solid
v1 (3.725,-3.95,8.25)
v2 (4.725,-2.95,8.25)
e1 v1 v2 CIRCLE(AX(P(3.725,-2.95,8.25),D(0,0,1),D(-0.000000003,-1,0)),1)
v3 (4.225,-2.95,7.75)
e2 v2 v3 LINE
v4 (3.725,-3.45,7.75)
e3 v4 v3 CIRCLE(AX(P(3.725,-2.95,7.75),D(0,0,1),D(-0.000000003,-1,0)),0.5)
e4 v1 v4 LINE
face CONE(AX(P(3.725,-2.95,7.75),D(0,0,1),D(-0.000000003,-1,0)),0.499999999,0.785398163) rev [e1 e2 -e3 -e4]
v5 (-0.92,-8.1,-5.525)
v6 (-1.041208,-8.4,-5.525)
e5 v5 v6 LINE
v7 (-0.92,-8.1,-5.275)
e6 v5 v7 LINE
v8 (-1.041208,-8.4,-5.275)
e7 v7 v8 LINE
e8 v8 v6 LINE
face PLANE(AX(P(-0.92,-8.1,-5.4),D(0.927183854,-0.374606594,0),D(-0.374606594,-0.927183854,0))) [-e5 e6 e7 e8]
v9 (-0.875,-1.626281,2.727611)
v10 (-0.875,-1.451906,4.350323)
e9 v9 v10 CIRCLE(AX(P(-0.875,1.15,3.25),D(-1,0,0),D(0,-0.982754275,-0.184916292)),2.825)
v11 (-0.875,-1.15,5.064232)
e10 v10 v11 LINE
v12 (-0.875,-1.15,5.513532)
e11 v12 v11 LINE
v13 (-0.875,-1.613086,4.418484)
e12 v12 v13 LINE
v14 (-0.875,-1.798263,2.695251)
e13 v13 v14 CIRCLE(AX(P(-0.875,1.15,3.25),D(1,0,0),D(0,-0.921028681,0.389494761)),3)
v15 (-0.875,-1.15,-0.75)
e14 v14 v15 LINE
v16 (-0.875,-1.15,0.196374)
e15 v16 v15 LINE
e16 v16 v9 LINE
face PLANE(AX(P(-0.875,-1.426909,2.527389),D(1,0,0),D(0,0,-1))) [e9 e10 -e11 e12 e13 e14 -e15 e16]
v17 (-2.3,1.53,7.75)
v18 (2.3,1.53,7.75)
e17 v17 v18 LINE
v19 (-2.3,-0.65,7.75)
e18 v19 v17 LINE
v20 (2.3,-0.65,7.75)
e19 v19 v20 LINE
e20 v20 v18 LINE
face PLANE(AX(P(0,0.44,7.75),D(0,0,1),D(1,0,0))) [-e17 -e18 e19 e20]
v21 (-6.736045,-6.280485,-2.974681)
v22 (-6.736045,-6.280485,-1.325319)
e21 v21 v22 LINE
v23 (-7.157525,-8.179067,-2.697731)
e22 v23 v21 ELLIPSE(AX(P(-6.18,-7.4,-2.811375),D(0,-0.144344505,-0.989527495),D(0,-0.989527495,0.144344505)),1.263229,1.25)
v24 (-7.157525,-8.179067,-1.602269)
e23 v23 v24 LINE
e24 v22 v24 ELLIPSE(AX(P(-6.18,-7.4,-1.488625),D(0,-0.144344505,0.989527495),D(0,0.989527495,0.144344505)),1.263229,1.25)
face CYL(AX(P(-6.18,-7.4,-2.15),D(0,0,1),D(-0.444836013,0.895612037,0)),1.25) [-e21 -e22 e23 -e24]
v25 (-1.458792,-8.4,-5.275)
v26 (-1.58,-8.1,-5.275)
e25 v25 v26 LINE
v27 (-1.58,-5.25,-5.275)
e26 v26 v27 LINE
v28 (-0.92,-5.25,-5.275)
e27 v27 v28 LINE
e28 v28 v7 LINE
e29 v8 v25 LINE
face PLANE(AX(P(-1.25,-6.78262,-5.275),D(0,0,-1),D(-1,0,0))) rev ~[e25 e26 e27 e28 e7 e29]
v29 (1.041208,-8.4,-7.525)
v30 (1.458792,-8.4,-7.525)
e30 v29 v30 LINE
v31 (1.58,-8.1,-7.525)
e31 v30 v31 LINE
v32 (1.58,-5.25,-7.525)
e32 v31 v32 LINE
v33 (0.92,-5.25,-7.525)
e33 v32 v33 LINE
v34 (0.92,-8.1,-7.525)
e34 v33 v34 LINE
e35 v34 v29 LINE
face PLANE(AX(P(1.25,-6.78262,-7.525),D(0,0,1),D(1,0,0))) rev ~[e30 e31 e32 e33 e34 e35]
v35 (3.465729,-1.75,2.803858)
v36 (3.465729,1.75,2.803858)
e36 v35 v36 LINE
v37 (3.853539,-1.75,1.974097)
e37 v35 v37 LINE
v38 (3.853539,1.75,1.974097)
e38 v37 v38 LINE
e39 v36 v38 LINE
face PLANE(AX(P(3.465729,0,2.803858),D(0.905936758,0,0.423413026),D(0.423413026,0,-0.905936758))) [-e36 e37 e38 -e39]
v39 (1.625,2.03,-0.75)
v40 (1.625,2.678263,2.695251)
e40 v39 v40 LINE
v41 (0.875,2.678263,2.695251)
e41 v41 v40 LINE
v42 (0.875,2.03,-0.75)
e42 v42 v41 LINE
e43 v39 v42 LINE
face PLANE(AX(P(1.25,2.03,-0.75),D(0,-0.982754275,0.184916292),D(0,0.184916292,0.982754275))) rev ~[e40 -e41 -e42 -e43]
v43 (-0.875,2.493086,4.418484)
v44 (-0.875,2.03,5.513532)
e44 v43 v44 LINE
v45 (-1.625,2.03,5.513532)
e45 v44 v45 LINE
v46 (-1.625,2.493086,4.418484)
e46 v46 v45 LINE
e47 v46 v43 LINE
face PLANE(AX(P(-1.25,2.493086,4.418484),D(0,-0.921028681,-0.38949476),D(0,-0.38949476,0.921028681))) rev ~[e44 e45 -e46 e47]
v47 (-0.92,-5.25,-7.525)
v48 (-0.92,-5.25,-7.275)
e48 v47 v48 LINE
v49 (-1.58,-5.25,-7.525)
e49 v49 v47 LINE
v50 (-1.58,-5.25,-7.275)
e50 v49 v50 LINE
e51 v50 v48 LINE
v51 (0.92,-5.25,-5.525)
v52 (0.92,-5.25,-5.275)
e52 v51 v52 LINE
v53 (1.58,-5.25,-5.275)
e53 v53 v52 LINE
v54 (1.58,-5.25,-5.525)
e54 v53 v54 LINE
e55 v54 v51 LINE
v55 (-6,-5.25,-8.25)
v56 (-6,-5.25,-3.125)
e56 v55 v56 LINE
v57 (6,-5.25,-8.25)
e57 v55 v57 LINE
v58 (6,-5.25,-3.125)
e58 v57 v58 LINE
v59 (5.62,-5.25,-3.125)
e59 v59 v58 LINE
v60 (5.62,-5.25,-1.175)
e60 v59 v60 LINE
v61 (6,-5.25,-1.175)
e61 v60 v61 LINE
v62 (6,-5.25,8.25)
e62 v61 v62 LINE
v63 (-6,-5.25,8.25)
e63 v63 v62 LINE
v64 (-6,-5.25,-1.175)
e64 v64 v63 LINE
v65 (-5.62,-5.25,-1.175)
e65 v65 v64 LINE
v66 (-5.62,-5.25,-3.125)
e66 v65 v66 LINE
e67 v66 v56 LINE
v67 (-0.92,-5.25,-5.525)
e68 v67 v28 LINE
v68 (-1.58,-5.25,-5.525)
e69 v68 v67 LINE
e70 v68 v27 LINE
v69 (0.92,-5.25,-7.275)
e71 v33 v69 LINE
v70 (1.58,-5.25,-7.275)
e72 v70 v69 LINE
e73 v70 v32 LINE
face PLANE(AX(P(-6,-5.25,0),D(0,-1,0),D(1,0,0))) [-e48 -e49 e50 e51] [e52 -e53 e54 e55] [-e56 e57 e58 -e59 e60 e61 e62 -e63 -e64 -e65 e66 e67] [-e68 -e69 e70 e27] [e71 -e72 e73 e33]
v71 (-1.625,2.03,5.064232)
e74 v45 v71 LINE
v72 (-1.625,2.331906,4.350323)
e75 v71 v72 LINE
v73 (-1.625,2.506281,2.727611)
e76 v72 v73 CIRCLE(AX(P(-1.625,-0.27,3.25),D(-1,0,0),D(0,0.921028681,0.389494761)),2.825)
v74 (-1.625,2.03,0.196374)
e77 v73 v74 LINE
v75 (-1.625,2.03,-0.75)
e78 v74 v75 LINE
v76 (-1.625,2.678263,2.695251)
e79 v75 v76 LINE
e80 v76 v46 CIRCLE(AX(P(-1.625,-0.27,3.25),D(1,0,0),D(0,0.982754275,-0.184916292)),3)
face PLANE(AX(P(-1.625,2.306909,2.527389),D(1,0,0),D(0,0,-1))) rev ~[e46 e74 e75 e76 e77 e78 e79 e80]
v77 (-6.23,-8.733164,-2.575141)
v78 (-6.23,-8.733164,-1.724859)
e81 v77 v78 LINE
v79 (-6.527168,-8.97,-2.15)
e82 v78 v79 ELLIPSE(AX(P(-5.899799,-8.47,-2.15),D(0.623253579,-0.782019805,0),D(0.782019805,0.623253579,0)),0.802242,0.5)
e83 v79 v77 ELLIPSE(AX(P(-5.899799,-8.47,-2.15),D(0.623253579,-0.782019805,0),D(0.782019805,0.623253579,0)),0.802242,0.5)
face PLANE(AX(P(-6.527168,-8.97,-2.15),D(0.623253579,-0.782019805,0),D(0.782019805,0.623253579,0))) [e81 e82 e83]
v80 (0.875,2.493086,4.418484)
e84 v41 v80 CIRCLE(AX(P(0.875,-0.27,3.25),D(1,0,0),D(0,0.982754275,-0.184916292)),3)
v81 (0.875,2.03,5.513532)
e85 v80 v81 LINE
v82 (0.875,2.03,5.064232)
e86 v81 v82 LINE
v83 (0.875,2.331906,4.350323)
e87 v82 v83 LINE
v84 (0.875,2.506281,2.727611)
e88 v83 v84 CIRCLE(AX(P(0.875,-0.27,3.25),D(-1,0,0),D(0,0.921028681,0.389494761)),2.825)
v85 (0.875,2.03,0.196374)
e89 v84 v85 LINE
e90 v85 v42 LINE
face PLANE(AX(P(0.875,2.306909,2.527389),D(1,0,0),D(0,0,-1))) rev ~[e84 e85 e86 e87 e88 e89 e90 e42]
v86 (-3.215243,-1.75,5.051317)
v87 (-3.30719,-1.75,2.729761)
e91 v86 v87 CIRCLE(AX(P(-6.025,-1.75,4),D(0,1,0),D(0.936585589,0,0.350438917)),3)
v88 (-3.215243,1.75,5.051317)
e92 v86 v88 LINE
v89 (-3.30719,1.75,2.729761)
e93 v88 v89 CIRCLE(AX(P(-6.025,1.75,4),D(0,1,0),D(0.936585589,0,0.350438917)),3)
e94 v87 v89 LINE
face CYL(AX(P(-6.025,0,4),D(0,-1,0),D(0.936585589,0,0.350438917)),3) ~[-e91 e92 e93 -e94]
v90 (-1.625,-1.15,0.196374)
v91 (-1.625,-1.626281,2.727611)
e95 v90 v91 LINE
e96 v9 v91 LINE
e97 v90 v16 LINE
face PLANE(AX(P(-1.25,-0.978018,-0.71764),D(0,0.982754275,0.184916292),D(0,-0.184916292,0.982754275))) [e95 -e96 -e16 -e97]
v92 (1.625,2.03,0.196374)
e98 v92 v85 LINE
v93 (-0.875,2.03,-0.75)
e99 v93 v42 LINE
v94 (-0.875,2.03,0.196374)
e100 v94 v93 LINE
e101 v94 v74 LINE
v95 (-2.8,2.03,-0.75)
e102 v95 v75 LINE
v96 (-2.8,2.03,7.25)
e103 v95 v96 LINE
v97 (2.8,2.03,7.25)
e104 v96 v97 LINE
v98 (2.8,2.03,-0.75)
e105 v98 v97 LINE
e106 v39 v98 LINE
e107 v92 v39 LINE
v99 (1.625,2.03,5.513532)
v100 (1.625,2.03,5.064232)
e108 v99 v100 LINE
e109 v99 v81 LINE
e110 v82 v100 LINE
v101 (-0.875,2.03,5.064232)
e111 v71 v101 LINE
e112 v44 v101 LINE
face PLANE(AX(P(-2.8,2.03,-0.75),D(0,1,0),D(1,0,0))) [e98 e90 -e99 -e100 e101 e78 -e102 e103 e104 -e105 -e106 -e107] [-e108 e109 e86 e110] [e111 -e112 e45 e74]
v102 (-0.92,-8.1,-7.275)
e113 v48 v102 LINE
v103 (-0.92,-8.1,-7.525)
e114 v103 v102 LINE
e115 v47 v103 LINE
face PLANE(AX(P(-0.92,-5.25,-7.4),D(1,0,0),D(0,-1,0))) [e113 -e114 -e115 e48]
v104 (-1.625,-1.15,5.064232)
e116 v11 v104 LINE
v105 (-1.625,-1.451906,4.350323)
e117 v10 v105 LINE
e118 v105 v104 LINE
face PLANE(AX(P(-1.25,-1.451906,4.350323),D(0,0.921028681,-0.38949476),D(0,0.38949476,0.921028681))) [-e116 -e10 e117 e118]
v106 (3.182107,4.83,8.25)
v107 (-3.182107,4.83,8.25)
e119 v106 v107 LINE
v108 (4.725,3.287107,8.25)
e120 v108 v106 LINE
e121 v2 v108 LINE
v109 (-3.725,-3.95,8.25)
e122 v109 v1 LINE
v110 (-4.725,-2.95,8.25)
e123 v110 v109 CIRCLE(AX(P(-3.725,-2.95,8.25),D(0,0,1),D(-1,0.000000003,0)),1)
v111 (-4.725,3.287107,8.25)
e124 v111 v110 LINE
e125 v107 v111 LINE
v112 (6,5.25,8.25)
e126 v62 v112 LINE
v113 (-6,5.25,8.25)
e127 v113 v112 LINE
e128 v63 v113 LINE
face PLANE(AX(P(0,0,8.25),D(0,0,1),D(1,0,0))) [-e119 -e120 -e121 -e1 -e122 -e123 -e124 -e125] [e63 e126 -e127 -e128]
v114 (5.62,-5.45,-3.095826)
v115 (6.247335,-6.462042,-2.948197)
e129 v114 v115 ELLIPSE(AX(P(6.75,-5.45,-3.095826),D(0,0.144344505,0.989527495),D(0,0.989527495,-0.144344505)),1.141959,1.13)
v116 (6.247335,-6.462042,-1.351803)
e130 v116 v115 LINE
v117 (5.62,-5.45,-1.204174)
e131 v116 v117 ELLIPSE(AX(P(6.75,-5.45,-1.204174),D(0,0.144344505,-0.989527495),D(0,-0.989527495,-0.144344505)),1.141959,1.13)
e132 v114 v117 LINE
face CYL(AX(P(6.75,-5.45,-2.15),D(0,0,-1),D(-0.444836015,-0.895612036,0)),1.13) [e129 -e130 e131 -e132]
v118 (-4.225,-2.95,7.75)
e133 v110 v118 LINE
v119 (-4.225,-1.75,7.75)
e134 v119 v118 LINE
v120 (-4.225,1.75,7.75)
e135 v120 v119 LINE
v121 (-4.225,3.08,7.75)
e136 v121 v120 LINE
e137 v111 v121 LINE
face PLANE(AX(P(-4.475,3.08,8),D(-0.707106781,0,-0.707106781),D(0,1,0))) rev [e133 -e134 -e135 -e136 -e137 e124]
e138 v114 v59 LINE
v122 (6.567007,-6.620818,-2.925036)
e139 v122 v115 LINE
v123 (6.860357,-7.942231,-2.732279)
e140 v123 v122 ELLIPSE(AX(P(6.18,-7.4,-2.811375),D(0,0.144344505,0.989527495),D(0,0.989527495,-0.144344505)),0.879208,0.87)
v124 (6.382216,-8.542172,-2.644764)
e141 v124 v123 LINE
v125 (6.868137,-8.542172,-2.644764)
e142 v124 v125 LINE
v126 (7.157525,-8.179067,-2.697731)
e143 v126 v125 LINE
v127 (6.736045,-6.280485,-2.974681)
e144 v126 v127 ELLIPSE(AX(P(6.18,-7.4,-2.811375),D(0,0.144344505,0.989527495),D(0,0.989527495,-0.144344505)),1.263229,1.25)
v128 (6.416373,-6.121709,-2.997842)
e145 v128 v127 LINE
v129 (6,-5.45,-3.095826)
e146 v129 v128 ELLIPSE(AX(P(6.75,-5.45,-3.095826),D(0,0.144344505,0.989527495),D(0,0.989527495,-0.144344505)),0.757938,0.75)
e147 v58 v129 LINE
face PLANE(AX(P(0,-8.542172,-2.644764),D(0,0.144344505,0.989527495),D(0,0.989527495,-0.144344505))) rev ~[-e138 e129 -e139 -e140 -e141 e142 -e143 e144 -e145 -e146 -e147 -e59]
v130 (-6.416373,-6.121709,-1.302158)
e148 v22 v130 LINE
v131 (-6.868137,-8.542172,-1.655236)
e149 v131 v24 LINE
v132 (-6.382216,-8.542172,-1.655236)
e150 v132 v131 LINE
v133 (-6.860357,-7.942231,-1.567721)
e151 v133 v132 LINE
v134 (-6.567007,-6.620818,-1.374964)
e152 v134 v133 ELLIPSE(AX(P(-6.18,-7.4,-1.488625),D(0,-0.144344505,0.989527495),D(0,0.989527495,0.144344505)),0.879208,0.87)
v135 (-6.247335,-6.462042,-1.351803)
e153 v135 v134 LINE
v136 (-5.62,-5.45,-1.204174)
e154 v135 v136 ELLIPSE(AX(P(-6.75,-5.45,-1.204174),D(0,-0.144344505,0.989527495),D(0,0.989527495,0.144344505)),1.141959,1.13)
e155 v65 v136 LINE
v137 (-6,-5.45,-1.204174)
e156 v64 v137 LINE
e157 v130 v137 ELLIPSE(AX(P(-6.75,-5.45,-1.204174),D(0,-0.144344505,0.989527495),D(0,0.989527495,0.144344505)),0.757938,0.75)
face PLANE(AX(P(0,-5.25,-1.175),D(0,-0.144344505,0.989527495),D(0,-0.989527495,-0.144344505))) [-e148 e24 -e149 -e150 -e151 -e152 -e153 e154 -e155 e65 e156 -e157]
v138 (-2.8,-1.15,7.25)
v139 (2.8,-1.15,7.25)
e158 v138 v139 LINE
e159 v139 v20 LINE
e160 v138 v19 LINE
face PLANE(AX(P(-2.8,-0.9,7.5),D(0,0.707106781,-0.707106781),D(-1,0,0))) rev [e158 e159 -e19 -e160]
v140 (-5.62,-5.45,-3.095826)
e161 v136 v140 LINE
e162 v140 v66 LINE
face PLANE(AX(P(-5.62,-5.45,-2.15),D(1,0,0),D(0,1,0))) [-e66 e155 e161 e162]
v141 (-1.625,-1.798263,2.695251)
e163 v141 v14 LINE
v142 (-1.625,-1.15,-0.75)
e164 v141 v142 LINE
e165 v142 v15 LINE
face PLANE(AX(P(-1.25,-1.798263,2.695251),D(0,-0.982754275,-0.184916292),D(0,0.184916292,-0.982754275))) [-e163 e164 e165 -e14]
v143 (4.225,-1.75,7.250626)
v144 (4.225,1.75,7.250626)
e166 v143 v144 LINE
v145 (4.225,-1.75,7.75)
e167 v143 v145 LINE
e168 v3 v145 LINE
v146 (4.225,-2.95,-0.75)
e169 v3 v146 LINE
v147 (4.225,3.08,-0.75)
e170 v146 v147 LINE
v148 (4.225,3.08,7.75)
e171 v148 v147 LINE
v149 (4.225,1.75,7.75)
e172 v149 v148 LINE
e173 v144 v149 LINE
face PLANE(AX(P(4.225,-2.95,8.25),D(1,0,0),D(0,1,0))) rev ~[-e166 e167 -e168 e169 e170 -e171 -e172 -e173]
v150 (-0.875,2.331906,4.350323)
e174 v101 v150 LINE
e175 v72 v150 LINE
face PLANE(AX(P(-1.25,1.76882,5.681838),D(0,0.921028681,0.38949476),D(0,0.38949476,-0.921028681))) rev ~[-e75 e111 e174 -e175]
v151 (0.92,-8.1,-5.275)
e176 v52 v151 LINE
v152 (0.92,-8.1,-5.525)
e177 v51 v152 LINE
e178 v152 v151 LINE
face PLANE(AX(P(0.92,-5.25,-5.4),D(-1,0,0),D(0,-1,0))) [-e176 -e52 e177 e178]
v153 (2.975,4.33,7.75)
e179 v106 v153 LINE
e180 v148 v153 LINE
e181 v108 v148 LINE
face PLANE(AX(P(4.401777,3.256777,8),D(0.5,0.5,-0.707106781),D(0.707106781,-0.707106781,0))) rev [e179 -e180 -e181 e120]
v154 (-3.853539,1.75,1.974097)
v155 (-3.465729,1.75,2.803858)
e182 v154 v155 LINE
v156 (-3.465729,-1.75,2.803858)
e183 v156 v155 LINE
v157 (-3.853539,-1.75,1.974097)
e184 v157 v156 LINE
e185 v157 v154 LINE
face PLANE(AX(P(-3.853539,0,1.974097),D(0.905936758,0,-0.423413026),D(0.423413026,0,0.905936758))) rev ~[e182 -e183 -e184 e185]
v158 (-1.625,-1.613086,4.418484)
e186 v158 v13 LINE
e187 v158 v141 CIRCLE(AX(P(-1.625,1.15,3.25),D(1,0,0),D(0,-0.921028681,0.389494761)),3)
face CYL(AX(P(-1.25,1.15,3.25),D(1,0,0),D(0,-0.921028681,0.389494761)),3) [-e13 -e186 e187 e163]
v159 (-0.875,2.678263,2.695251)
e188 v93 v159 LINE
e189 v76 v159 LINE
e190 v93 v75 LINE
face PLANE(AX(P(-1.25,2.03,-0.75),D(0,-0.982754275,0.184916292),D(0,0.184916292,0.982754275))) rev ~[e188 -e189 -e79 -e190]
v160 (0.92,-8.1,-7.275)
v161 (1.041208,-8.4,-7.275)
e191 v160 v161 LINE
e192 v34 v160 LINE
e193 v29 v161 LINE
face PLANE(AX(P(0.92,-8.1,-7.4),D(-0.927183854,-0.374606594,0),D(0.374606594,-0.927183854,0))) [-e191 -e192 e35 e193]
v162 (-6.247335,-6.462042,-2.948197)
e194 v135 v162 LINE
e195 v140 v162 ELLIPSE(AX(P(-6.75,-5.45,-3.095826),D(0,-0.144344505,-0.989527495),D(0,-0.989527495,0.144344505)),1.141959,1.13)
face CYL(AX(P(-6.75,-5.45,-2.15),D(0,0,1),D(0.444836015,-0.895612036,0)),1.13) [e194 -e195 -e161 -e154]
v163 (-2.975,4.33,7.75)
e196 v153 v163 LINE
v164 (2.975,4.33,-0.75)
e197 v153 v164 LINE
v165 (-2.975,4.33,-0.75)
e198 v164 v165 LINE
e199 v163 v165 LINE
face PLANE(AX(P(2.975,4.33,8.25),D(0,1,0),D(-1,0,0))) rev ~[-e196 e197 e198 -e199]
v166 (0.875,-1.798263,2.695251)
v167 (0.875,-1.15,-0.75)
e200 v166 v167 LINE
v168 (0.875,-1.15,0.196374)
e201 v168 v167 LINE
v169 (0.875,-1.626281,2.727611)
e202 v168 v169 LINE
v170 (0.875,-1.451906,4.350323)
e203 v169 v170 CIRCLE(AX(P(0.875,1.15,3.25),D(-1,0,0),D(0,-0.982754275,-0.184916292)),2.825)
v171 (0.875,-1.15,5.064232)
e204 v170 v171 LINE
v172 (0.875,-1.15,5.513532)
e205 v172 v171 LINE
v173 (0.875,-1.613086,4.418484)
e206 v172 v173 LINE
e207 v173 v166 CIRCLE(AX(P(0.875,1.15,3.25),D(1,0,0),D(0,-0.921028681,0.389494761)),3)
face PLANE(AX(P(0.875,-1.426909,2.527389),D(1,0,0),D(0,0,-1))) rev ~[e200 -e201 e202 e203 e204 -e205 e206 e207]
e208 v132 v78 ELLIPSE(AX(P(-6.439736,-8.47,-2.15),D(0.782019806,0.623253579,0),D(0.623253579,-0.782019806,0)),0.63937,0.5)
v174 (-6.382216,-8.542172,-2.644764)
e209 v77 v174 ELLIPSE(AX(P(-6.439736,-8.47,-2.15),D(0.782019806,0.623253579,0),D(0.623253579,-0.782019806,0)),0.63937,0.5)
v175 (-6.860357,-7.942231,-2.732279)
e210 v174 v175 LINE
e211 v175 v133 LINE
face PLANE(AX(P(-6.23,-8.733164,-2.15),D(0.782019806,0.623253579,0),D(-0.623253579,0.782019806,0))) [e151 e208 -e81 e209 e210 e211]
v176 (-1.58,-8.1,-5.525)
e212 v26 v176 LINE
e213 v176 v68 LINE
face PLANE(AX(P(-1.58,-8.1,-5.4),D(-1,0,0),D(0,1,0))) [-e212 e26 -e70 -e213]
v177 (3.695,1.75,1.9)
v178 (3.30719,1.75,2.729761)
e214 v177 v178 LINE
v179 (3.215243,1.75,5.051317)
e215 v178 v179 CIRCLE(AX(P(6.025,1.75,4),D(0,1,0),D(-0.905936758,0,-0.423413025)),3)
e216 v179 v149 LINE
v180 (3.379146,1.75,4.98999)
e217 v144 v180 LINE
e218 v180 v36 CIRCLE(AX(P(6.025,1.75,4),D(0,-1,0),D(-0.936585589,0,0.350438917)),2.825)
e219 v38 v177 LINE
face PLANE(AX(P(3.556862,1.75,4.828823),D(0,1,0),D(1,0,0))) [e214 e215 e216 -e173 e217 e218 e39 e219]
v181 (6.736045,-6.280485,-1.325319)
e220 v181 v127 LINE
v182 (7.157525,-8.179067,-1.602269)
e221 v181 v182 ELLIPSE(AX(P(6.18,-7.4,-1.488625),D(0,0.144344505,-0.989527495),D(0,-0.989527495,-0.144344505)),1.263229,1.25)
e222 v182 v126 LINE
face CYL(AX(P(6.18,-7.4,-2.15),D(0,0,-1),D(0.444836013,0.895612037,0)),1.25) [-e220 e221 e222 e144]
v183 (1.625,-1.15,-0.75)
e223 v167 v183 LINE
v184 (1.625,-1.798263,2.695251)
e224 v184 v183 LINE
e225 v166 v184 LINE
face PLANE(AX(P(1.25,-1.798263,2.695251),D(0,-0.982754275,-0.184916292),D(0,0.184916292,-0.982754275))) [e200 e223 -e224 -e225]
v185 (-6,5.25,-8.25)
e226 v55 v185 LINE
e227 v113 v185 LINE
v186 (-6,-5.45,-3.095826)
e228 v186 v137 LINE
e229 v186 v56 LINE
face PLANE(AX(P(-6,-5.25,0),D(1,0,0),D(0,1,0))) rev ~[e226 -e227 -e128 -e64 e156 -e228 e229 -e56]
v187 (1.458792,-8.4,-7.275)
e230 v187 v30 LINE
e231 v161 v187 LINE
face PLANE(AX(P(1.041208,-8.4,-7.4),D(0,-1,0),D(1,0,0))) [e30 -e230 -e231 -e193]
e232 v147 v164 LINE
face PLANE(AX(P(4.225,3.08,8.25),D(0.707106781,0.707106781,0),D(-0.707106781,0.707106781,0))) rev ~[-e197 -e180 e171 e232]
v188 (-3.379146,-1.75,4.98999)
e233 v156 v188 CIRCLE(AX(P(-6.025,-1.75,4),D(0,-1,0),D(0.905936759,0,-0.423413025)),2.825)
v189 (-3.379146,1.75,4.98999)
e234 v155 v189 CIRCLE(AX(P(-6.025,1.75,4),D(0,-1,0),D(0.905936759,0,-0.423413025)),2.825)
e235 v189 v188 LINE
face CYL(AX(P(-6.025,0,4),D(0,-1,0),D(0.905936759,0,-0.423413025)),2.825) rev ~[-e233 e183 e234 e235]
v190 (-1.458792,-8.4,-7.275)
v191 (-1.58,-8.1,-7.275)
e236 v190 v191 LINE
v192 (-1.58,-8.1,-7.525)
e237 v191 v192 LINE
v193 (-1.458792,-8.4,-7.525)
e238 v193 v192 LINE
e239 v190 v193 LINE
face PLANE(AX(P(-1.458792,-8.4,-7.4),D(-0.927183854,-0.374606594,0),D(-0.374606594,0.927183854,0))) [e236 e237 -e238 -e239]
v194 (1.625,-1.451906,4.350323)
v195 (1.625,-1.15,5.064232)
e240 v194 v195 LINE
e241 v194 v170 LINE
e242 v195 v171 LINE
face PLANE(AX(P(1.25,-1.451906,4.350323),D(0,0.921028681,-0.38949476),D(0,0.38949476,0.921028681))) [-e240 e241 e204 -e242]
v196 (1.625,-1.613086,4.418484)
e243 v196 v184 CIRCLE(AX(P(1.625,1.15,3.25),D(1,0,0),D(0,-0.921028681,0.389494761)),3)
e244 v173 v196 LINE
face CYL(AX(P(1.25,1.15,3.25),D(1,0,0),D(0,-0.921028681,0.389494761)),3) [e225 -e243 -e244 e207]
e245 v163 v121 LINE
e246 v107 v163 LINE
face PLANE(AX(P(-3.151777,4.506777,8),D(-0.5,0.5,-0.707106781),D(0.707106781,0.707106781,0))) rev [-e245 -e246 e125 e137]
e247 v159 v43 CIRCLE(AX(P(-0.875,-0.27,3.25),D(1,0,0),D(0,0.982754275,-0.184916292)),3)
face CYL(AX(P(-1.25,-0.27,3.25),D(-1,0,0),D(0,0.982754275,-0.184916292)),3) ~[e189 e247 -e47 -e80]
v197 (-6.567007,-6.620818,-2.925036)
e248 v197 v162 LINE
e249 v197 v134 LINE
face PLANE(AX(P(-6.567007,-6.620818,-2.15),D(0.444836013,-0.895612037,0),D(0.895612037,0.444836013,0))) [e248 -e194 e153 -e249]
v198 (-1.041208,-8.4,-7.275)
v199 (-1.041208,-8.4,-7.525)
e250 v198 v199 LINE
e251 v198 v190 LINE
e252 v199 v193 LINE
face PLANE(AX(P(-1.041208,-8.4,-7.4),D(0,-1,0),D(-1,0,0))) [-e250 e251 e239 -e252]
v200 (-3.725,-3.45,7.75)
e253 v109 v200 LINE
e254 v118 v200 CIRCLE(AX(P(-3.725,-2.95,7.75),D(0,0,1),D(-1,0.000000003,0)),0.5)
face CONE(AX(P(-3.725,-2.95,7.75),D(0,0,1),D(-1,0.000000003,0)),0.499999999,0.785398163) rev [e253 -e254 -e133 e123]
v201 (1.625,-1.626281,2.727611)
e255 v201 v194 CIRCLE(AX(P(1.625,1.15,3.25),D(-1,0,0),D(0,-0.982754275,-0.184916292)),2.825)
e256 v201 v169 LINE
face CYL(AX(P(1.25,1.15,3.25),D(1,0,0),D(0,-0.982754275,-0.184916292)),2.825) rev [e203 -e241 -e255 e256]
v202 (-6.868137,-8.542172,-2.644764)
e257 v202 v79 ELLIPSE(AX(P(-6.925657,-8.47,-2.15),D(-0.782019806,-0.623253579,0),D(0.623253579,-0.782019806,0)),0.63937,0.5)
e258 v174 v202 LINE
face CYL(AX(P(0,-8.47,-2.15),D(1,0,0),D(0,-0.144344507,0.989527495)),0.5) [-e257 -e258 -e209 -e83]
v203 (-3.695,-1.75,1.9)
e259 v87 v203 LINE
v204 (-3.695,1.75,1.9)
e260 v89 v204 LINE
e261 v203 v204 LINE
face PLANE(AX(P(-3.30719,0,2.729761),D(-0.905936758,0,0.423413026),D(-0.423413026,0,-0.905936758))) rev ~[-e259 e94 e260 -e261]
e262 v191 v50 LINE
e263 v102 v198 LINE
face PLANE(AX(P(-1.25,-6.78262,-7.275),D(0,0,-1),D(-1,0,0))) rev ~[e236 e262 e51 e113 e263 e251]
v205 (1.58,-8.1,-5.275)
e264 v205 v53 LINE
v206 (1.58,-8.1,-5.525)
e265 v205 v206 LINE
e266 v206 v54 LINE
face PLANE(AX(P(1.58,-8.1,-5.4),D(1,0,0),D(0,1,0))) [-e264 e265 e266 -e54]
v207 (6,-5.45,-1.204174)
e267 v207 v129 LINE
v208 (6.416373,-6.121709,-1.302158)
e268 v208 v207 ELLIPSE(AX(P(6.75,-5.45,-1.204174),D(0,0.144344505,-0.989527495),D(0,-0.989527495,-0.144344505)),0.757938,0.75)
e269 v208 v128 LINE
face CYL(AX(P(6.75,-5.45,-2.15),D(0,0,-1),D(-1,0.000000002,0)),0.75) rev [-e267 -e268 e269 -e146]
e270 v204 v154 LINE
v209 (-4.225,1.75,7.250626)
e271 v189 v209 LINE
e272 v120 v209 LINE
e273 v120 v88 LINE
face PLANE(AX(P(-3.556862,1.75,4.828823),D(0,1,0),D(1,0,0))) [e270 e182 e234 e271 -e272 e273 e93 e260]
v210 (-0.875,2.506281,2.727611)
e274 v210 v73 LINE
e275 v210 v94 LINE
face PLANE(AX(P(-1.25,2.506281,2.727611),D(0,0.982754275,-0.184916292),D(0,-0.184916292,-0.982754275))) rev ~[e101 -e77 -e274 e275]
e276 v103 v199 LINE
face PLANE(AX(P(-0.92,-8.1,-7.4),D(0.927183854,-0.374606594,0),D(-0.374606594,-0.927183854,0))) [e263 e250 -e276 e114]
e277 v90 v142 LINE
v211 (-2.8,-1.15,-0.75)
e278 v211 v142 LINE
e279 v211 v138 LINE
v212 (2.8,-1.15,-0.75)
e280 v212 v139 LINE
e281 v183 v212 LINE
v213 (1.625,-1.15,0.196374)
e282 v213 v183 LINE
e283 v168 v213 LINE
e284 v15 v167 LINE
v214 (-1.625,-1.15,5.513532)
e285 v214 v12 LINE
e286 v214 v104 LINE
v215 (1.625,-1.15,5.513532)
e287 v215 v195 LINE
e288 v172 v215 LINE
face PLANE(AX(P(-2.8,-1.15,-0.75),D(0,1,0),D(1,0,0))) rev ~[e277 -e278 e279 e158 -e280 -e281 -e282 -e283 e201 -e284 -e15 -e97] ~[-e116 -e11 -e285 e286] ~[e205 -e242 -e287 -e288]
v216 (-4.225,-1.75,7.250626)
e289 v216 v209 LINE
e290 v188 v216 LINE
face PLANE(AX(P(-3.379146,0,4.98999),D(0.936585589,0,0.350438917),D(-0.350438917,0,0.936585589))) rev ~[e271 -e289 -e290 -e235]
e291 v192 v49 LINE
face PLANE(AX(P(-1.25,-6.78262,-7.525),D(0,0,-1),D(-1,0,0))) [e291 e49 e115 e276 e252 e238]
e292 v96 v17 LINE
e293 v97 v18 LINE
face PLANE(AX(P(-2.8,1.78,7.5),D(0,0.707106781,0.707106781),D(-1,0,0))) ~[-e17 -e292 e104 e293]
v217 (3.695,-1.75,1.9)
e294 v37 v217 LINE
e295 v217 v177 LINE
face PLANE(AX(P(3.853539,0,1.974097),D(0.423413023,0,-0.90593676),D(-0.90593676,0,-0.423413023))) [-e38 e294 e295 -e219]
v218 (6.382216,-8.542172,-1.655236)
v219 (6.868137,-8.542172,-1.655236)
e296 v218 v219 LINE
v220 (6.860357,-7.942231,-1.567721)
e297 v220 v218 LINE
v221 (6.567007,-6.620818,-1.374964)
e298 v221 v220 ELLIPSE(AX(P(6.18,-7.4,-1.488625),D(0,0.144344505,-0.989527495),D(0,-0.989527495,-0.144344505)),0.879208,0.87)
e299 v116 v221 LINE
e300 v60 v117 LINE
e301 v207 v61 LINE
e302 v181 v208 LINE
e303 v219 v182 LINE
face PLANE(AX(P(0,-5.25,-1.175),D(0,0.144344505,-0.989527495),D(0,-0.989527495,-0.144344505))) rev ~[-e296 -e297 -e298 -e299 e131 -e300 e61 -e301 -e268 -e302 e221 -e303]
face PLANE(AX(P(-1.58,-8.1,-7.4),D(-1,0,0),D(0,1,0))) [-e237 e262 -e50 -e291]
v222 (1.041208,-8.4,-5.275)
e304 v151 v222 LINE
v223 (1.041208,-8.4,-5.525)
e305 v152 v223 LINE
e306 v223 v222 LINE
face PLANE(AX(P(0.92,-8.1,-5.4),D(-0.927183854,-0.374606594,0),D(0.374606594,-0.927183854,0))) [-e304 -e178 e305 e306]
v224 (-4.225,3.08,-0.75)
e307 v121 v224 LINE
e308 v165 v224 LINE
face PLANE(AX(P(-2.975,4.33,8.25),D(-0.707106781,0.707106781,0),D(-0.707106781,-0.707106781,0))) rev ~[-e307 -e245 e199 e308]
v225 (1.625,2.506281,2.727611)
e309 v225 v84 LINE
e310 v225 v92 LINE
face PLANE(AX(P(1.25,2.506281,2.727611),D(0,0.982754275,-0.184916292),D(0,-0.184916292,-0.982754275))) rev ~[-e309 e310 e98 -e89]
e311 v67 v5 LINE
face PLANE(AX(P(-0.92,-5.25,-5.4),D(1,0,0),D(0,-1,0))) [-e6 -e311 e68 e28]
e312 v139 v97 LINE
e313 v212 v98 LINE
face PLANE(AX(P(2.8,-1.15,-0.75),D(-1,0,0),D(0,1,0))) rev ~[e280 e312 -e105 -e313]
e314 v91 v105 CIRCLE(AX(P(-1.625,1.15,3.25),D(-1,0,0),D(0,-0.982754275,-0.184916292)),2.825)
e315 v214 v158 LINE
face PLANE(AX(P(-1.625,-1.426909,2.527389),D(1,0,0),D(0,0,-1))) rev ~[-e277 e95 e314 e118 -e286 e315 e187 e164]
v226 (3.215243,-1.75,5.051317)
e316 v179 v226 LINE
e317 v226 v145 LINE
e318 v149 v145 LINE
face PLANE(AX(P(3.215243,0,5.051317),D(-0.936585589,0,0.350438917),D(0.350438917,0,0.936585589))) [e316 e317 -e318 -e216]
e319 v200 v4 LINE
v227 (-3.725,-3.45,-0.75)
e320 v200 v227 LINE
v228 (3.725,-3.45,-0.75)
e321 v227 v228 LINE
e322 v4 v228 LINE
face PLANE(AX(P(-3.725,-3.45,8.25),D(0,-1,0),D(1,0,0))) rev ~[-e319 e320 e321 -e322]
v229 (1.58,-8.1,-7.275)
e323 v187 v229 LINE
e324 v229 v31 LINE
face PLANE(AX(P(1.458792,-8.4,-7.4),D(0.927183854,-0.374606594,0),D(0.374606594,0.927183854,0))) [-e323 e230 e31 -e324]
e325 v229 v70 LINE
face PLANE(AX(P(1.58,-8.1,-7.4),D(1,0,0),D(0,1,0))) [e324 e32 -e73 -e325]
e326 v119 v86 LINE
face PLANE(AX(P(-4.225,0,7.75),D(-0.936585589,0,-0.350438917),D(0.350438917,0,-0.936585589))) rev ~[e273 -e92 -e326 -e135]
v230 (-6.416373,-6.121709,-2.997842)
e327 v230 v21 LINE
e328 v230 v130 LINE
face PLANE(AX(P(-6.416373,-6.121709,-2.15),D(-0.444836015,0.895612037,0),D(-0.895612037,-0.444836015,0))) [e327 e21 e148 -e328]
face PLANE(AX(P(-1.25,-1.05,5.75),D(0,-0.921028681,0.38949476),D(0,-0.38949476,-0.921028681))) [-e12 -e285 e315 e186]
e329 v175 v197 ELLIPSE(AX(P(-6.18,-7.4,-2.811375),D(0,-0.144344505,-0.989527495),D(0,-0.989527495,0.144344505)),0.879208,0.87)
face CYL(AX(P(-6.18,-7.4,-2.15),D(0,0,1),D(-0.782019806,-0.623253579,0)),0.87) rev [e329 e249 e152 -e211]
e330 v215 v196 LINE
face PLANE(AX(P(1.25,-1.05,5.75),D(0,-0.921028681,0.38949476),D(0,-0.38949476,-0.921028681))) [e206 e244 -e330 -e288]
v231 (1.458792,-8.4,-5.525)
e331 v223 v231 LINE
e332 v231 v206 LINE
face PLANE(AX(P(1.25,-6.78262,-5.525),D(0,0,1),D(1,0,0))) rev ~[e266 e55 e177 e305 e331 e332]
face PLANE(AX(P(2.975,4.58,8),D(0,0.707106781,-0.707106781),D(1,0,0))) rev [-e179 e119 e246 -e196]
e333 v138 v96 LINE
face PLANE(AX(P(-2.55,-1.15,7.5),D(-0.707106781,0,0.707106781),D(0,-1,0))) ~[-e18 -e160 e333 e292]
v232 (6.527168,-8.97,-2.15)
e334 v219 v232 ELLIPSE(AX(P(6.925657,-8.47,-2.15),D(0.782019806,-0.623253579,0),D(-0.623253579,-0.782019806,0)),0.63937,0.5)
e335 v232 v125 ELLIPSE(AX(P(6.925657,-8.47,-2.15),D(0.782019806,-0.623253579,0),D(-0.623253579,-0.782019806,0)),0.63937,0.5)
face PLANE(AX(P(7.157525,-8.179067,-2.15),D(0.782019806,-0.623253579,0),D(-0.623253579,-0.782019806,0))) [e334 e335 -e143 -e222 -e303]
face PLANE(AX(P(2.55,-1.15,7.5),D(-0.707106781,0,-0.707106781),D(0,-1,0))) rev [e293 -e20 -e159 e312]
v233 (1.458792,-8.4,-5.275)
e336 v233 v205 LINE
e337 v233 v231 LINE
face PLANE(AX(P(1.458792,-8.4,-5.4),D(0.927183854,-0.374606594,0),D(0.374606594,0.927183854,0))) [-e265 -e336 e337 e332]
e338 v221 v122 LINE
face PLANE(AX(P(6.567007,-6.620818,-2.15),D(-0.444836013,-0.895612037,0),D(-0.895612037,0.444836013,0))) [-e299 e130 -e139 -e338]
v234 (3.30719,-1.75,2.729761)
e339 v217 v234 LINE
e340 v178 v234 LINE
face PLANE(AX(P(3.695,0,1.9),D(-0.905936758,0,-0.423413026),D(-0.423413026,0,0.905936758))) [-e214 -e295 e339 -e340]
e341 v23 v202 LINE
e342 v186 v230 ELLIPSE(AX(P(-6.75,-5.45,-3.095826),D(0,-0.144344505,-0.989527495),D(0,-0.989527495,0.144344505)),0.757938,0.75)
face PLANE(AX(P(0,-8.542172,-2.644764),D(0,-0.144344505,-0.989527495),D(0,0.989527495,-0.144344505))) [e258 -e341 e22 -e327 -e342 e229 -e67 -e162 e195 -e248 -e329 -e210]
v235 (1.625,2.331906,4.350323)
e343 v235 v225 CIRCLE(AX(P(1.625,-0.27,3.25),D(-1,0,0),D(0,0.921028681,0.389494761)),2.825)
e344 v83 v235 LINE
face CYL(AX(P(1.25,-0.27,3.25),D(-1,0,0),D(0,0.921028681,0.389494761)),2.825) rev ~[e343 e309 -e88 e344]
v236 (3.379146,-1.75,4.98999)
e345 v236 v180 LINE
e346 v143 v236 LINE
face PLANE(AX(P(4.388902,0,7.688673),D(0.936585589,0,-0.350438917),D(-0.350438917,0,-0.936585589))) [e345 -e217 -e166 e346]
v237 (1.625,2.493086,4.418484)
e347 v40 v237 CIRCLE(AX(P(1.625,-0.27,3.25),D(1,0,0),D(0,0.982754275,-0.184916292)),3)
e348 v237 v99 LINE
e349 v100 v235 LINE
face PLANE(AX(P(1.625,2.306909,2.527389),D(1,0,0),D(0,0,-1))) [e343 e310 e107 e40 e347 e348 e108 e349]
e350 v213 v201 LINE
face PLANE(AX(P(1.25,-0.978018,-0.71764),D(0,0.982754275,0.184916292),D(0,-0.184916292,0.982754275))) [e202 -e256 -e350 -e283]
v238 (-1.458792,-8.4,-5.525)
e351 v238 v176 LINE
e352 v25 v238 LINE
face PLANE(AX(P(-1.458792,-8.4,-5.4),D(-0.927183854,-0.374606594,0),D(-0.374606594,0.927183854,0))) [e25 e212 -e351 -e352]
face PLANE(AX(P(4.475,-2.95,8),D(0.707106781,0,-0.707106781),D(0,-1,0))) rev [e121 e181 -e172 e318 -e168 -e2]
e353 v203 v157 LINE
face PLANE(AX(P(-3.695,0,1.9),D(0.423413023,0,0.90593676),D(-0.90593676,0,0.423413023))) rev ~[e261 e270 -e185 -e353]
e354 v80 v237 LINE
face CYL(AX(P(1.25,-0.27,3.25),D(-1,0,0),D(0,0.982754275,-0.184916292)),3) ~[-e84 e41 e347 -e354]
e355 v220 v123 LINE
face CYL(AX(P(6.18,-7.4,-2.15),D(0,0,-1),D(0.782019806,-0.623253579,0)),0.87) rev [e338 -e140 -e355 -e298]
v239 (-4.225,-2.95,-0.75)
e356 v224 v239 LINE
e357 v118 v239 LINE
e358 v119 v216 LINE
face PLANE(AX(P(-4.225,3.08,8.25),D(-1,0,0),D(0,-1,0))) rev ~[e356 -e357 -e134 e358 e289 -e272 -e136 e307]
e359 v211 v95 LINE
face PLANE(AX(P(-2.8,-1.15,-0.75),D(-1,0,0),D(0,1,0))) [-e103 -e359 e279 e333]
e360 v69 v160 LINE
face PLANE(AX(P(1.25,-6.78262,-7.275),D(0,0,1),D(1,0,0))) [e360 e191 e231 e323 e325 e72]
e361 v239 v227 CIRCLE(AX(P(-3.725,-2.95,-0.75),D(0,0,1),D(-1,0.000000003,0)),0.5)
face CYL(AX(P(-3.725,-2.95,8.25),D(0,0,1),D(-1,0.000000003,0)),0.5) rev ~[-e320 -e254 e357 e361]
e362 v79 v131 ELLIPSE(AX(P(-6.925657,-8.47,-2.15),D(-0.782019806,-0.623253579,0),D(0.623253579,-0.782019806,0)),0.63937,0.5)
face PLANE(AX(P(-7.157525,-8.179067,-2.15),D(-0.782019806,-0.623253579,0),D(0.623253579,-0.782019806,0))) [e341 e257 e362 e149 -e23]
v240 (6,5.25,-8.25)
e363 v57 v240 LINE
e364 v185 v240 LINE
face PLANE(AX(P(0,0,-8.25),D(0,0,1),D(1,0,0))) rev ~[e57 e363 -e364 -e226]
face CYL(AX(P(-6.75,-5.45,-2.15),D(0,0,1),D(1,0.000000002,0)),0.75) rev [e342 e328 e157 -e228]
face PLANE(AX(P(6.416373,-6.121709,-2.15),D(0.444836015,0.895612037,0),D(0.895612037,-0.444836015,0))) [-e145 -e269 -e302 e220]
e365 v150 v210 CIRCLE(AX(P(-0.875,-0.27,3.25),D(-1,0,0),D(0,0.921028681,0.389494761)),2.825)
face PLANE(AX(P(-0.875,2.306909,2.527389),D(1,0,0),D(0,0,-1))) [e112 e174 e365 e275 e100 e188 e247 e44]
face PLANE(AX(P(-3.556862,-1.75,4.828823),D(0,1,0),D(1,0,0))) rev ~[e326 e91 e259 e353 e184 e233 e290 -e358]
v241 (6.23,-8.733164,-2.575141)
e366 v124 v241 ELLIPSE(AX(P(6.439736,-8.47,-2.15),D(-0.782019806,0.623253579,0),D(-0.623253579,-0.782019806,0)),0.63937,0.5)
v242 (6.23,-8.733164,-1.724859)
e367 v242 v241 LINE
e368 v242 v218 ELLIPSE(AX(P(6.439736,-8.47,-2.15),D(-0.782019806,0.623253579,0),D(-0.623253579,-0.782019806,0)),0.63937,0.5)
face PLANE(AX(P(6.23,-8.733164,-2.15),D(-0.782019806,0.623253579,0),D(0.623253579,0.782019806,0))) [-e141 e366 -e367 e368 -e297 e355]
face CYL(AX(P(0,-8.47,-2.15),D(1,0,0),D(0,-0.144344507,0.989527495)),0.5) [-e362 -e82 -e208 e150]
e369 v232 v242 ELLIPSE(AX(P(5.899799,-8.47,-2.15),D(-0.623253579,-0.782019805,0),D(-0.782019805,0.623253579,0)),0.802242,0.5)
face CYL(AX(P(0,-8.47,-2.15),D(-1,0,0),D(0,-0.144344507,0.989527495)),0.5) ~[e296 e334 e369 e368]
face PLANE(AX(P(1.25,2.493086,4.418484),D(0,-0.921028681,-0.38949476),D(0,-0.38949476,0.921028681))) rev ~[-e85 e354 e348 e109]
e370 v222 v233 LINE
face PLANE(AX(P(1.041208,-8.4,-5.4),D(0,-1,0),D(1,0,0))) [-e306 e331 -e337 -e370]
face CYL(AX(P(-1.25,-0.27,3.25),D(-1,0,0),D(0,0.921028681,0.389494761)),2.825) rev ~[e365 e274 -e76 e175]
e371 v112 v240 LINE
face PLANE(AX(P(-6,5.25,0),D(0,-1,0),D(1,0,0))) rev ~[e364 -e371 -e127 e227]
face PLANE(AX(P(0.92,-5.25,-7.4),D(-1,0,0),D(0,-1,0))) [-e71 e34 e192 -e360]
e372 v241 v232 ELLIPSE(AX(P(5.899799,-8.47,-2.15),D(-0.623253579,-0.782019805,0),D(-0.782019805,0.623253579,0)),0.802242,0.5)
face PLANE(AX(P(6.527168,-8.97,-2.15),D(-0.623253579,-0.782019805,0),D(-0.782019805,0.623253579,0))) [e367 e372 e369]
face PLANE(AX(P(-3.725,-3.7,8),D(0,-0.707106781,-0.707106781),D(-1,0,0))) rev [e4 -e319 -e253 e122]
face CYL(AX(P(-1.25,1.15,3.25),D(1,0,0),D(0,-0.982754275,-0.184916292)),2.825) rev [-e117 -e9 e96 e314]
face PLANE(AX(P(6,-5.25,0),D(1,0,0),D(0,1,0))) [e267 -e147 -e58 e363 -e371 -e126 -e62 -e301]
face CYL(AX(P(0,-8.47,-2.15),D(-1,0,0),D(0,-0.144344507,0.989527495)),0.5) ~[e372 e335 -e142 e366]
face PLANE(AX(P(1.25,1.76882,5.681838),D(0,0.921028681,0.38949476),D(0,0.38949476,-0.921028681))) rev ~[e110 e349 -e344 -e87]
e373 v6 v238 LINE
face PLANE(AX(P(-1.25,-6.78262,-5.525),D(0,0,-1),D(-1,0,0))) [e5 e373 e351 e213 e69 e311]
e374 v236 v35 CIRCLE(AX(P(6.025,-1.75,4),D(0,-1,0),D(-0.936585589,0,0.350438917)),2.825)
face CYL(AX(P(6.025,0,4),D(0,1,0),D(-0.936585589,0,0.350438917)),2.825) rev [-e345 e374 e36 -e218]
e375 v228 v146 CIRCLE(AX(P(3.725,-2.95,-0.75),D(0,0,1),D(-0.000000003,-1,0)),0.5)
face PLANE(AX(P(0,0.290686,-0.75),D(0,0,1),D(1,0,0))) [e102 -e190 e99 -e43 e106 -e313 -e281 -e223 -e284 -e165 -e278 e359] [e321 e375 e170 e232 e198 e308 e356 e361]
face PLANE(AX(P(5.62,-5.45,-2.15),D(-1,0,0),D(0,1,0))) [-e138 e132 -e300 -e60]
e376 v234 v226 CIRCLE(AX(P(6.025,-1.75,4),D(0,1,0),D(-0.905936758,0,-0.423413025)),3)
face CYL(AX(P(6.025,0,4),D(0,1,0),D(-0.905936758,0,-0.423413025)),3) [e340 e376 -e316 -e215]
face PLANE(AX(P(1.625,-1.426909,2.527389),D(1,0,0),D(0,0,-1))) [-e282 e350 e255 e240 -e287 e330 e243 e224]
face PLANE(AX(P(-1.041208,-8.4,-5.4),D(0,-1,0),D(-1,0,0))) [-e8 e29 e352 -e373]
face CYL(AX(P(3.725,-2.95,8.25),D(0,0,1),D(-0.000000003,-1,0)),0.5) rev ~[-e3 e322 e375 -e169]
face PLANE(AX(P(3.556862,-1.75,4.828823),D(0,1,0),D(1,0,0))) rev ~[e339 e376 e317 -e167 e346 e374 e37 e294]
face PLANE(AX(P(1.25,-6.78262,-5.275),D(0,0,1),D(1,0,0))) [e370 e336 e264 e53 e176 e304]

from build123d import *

# Parameters (mm, degrees)
SKETCH1_W                      = 12
SKETCH1_H                      = 10.5
BASE_DEPTH                     = 8.25
CONTACT_OPENING_DEPTH          = 9
CONTACT_OPENING_LEAD_IN_SIZE   = 0.5
SKETCH3_W                      = 5.6
SKETCH3_H                      = 3.18
CONTACT_AREA_DEPTH             = 8.5
CONTACT_AREA_LEAD_IN_SIZE      = 0.5
HOLDING_TINES_DEPTH            = 1.75
CONTACT_DEPTH                  = 0.375
CONTACT_PATTERN_COUNT          = 2
CONTACT_PATTERN_PITCH          = 2.5
TH_GROUND_LEGS_DEPTH           = 0.975
TH_GROUND_LEG_SHAPE_DEPTH      = 8.43
TH_GROUND_LEG_SHAPE_DEPTH_BACK = 8.43
TH_TAILS_DEPTH                 = 0.125
TH_TAILS_PATTERN_COUNT         = 2
TH_TAILS_PATTERN_PITCH         = 2


with BuildPart() as part:
    # Sketch1 → Base (new body, symmetric)
    with BuildSketch(Plane.XY):
        Rectangle(SKETCH1_W, SKETCH1_H)
    extrude(amount=BASE_DEPTH, both=True)

    # Sketch2 → Contact Opening (cut)
    with BuildSketch(Plane.XY.offset(8.25)):
        with BuildLine():
            Line((-2.975, 4.33), (-4.225, 3.08))
            Line((-4.225, 3.08), (-4.225, -2.95))
            ThreePointArc((-4.225, -2.95), (-4.078553391, -3.303553391), (-3.725, -3.45))
            Line((-3.725, -3.45), (3.725, -3.45))
            ThreePointArc((3.725, -3.45), (4.078553391, -3.303553391), (4.225, -2.95))
            Line((4.225, -2.95), (4.225, 3.08))
            Line((4.225, 3.08), (2.975, 4.33))
            Line((2.975, 4.33), (-2.975, 4.33))
        make_face()
    extrude(amount=-CONTACT_OPENING_DEPTH, mode=Mode.SUBTRACT)

    # Contact Opening Lead-in
    contact_opening_lead_in_edges = [part.edges().sort_by_distance(p)[0] for p in [
        (0, 4.33, 8.25),
        (-3.6, 3.705, 8.25),
        (-4.225, 0.065, 8.25),
        (-4.078553391, -3.303553391, 8.25),
        (0, -3.45, 8.25),
        (4.078553391, -3.303553391, 8.25),
        (4.225, 0.065, 8.25),
        (3.6, 3.705, 8.25),
    ]]
    chamfer(contact_opening_lead_in_edges, length=CONTACT_OPENING_LEAD_IN_SIZE)

    # Sketch3 → Contact Area (add)
    with BuildSketch(Plane.XY.offset(-0.75)):
        with Locations((0, 0.44)):
            Rectangle(SKETCH3_W, SKETCH3_H)
    extrude(amount=CONTACT_AREA_DEPTH)

    # Contact Area Lead-in
    contact_area_lead_in_edges = [part.edges().sort_by_distance(p)[0] for p in [
        (-2.8, 0.44, 7.75),
        (0, -1.15, 7.75),
        (2.8, 0.44, 7.75),
        (0, 2.03, 7.75),
    ]]
    chamfer(contact_area_lead_in_edges, length=CONTACT_AREA_LEAD_IN_SIZE)

    # Sketch7 → Holding Tines (add, symmetric)
    with BuildSketch(Plane(origin=(0, 0, 0), x_dir=(1, 0, 0), z_dir=(0, 1, 0))):
        with BuildLine():
            Line((-4.225, -7.75), (-3.215243234, -5.051316752))
            ThreePointArc((-3.215243234, -5.051316752), (-3.027350135, -3.881276433), (-3.307189725, -2.729760924))
            Line((-3.307189725, -2.729760924), (-3.695, -1.9))
            Line((-3.695, -1.9), (-3.853538933, -1.974097279))
            Line((-3.853538933, -1.974097279), (-3.465728658, -2.803858203))
            ThreePointArc((-3.465728658, -2.803858203), (-3.202213044, -3.888201975), (-3.379145712, -4.989989942))
            Line((-3.379145712, -4.989989942), (-4.388902478, -7.688673189))
            Line((-4.388902478, -7.688673189), (-4.225, -7.75))
        make_face()
        with BuildLine():
            Line((4.225, -7.75), (4.388902478, -7.688673189))
            Line((4.388902478, -7.688673189), (3.379145712, -4.989989942))
            ThreePointArc((3.379145712, -4.989989942), (3.202213044, -3.888201975), (3.465728658, -2.803858203))
            Line((3.465728658, -2.803858203), (3.853538933, -1.974097279))
            Line((3.853538933, -1.974097279), (3.695, -1.9))
            Line((3.695, -1.9), (3.307189725, -2.729760924))
            ThreePointArc((3.307189725, -2.729760924), (3.027350135, -3.881276433), (3.215243234, -5.051316752))
            Line((3.215243234, -5.051316752), (4.225, -7.75))
        make_face()
    extrude(amount=HOLDING_TINES_DEPTH, both=True)

    # Sketch8 → Contact (add, symmetric)
    with BuildSketch(Plane(origin=(-1.25, 0, 0), x_dir=(0, 0, -1), z_dir=(1, 0, 0))):
        with BuildLine():
            Line((0.75, 2.03), (-2.695251124, 2.678262825))
            ThreePointArc((-2.695251124, 2.678262825), (-3.57053143, 2.712827451), (-4.418484282, 2.493086043))
            Line((-4.418484282, 2.493086043), (-5.75, 1.93))
            Line((-5.75, 1.93), (-5.681838417, 1.768819981))
            Line((-5.681838417, 1.768819981), (-4.350322699, 2.331906024))
            ThreePointArc((-4.350322699, 2.331906024), (-3.551833763, 2.538829183), (-2.727611475, 2.506280827))
            Line((-2.727611475, 2.506280827), (0.717639649, 1.858018002))
            Line((0.717639649, 1.858018002), (0.75, 2.03))
        make_face()
        with BuildLine():
            Line((-5.681838417, -0.888819981), (-5.75, -1.05))
            Line((-5.75, -1.05), (-4.418484282, -1.613086043))
            ThreePointArc((-4.418484282, -1.613086043), (-3.57053143, -1.832827451), (-2.695251124, -1.798262825))
            Line((-2.695251124, -1.798262825), (0.75, -1.15))
            Line((0.75, -1.15), (0.717639649, -0.978018002))
            Line((0.717639649, -0.978018002), (-2.727611475, -1.626280827))
            ThreePointArc((-2.727611475, -1.626280827), (-3.551833763, -1.658829183), (-4.350322699, -1.451906024))
            Line((-4.350322699, -1.451906024), (-5.681838417, -0.888819981))
        make_face()
    contact = extrude(amount=CONTACT_DEPTH, both=True)

    # Contact Pattern: Contact ×2
    with Locations(*[(i * CONTACT_PATTERN_PITCH, 0, 0) for i in range(1, CONTACT_PATTERN_COUNT)]):
        add(contact)

    # Sketch13 → TH Ground Legs (add, symmetric)
    with BuildSketch(Plane.XY.offset(-2.15)):
        with BuildLine():
            Line((6, -5.25), (6, -5.45))
            ThreePointArc((6, -5.45), (6.112536174, -5.84514538), (6.41637299, -6.121709028))
            Line((6.41637299, -6.121709028), (6.736045017, -6.280484954))
            ThreePointArc((6.736045017, -6.280484954), (7.400291967, -7.129098698), (7.157524757, -8.179066973))
            Line((7.157524757, -8.179066973), (6.527167526, -8.97))
            Line((6.527167526, -8.97), (6.23, -8.73316364))
            Line((6.23, -8.73316364), (6.860357231, -7.942230613))
            ThreePointArc((6.860357231, -7.942230613), (7.029323209, -7.211452694), (6.567007332, -6.620817528))
            Line((6.567007332, -6.620817528), (6.247335304, -6.462041602))
            ThreePointArc((6.247335304, -6.462041602), (5.789554503, -6.045352372), (5.62, -5.45))
            Line((5.62, -5.45), (5.62, -5.25))
            Line((5.62, -5.25), (6, -5.25))
        make_face()
        with BuildLine():
            Line((-5.62, -5.25), (-6, -5.25))
            Line((-6, -5.25), (-6, -5.45))
            ThreePointArc((-6, -5.45), (-6.112536174, -5.84514538), (-6.41637299, -6.121709028))
            Line((-6.41637299, -6.121709028), (-6.736045017, -6.280484954))
            ThreePointArc((-6.736045017, -6.280484954), (-7.400291967, -7.129098698), (-7.157524757, -8.179066973))
            Line((-7.157524757, -8.179066973), (-6.527167526, -8.97))
            Line((-6.527167526, -8.97), (-6.23, -8.73316364))
            Line((-6.23, -8.73316364), (-6.860357231, -7.942230613))
            ThreePointArc((-6.860357231, -7.942230613), (-7.029323209, -7.211452694), (-6.567007332, -6.620817528))
            Line((-6.567007332, -6.620817528), (-6.247335304, -6.462041602))
            ThreePointArc((-6.247335304, -6.462041602), (-5.789554503, -6.045352372), (-5.62, -5.45))
            Line((-5.62, -5.45), (-5.62, -5.25))
        make_face()
    extrude(amount=TH_GROUND_LEGS_DEPTH, both=True)

    # Sketch14 → TH Ground Leg Shape (cut, two sides)
    with BuildSketch(Plane(origin=(0, 0, 0), x_dir=(0, 0, -1), z_dir=(1, 0, 0))) as th_ground_leg_shape_sk:
        with BuildLine():
            Line((3.125, -5.25), (3.125, -9))
            Line((3.125, -9), (1.175, -9))
            Line((1.175, -9), (1.175, -5.25))
            Line((1.175, -5.25), (1.655236252, -8.542172253))
            ThreePointArc((1.655236252, -8.542172253), (2.15, -8.97), (2.644763748, -8.542172253))
            Line((2.644763748, -8.542172253), (3.125, -5.25))
        make_face()
    extrude(amount=TH_GROUND_LEG_SHAPE_DEPTH, mode=Mode.SUBTRACT)
    extrude(th_ground_leg_shape_sk.sketch, amount=-TH_GROUND_LEG_SHAPE_DEPTH_BACK, mode=Mode.SUBTRACT)

    # Sketch15 → TH Tails (add, symmetric)
    with BuildSketch(Plane(origin=(0, 0, -7.4), x_dir=(-1, 0, 0), z_dir=(0, 0, -1))):
        Polygon((-1.58, -5.25), (-0.92, -5.25), (-0.92, -8.1), (-1.041207868, -8.4), (-1.458792132, -8.4), (-1.58, -8.1), align=None)
        Polygon((0.92, -8.1), (1.041207868, -8.4), (1.458792132, -8.4), (1.58, -8.1), (1.58, -5.25), (0.92, -5.25), align=None)
    th_tails = extrude(amount=TH_TAILS_DEPTH, both=True)

    # TH Tails Pattern: TH Tails ×2
    with Locations(*[(0, 0, i * TH_TAILS_PATTERN_PITCH) for i in range(1, TH_TAILS_PATTERN_COUNT)]):
        add(th_tails)


solid = part.part
